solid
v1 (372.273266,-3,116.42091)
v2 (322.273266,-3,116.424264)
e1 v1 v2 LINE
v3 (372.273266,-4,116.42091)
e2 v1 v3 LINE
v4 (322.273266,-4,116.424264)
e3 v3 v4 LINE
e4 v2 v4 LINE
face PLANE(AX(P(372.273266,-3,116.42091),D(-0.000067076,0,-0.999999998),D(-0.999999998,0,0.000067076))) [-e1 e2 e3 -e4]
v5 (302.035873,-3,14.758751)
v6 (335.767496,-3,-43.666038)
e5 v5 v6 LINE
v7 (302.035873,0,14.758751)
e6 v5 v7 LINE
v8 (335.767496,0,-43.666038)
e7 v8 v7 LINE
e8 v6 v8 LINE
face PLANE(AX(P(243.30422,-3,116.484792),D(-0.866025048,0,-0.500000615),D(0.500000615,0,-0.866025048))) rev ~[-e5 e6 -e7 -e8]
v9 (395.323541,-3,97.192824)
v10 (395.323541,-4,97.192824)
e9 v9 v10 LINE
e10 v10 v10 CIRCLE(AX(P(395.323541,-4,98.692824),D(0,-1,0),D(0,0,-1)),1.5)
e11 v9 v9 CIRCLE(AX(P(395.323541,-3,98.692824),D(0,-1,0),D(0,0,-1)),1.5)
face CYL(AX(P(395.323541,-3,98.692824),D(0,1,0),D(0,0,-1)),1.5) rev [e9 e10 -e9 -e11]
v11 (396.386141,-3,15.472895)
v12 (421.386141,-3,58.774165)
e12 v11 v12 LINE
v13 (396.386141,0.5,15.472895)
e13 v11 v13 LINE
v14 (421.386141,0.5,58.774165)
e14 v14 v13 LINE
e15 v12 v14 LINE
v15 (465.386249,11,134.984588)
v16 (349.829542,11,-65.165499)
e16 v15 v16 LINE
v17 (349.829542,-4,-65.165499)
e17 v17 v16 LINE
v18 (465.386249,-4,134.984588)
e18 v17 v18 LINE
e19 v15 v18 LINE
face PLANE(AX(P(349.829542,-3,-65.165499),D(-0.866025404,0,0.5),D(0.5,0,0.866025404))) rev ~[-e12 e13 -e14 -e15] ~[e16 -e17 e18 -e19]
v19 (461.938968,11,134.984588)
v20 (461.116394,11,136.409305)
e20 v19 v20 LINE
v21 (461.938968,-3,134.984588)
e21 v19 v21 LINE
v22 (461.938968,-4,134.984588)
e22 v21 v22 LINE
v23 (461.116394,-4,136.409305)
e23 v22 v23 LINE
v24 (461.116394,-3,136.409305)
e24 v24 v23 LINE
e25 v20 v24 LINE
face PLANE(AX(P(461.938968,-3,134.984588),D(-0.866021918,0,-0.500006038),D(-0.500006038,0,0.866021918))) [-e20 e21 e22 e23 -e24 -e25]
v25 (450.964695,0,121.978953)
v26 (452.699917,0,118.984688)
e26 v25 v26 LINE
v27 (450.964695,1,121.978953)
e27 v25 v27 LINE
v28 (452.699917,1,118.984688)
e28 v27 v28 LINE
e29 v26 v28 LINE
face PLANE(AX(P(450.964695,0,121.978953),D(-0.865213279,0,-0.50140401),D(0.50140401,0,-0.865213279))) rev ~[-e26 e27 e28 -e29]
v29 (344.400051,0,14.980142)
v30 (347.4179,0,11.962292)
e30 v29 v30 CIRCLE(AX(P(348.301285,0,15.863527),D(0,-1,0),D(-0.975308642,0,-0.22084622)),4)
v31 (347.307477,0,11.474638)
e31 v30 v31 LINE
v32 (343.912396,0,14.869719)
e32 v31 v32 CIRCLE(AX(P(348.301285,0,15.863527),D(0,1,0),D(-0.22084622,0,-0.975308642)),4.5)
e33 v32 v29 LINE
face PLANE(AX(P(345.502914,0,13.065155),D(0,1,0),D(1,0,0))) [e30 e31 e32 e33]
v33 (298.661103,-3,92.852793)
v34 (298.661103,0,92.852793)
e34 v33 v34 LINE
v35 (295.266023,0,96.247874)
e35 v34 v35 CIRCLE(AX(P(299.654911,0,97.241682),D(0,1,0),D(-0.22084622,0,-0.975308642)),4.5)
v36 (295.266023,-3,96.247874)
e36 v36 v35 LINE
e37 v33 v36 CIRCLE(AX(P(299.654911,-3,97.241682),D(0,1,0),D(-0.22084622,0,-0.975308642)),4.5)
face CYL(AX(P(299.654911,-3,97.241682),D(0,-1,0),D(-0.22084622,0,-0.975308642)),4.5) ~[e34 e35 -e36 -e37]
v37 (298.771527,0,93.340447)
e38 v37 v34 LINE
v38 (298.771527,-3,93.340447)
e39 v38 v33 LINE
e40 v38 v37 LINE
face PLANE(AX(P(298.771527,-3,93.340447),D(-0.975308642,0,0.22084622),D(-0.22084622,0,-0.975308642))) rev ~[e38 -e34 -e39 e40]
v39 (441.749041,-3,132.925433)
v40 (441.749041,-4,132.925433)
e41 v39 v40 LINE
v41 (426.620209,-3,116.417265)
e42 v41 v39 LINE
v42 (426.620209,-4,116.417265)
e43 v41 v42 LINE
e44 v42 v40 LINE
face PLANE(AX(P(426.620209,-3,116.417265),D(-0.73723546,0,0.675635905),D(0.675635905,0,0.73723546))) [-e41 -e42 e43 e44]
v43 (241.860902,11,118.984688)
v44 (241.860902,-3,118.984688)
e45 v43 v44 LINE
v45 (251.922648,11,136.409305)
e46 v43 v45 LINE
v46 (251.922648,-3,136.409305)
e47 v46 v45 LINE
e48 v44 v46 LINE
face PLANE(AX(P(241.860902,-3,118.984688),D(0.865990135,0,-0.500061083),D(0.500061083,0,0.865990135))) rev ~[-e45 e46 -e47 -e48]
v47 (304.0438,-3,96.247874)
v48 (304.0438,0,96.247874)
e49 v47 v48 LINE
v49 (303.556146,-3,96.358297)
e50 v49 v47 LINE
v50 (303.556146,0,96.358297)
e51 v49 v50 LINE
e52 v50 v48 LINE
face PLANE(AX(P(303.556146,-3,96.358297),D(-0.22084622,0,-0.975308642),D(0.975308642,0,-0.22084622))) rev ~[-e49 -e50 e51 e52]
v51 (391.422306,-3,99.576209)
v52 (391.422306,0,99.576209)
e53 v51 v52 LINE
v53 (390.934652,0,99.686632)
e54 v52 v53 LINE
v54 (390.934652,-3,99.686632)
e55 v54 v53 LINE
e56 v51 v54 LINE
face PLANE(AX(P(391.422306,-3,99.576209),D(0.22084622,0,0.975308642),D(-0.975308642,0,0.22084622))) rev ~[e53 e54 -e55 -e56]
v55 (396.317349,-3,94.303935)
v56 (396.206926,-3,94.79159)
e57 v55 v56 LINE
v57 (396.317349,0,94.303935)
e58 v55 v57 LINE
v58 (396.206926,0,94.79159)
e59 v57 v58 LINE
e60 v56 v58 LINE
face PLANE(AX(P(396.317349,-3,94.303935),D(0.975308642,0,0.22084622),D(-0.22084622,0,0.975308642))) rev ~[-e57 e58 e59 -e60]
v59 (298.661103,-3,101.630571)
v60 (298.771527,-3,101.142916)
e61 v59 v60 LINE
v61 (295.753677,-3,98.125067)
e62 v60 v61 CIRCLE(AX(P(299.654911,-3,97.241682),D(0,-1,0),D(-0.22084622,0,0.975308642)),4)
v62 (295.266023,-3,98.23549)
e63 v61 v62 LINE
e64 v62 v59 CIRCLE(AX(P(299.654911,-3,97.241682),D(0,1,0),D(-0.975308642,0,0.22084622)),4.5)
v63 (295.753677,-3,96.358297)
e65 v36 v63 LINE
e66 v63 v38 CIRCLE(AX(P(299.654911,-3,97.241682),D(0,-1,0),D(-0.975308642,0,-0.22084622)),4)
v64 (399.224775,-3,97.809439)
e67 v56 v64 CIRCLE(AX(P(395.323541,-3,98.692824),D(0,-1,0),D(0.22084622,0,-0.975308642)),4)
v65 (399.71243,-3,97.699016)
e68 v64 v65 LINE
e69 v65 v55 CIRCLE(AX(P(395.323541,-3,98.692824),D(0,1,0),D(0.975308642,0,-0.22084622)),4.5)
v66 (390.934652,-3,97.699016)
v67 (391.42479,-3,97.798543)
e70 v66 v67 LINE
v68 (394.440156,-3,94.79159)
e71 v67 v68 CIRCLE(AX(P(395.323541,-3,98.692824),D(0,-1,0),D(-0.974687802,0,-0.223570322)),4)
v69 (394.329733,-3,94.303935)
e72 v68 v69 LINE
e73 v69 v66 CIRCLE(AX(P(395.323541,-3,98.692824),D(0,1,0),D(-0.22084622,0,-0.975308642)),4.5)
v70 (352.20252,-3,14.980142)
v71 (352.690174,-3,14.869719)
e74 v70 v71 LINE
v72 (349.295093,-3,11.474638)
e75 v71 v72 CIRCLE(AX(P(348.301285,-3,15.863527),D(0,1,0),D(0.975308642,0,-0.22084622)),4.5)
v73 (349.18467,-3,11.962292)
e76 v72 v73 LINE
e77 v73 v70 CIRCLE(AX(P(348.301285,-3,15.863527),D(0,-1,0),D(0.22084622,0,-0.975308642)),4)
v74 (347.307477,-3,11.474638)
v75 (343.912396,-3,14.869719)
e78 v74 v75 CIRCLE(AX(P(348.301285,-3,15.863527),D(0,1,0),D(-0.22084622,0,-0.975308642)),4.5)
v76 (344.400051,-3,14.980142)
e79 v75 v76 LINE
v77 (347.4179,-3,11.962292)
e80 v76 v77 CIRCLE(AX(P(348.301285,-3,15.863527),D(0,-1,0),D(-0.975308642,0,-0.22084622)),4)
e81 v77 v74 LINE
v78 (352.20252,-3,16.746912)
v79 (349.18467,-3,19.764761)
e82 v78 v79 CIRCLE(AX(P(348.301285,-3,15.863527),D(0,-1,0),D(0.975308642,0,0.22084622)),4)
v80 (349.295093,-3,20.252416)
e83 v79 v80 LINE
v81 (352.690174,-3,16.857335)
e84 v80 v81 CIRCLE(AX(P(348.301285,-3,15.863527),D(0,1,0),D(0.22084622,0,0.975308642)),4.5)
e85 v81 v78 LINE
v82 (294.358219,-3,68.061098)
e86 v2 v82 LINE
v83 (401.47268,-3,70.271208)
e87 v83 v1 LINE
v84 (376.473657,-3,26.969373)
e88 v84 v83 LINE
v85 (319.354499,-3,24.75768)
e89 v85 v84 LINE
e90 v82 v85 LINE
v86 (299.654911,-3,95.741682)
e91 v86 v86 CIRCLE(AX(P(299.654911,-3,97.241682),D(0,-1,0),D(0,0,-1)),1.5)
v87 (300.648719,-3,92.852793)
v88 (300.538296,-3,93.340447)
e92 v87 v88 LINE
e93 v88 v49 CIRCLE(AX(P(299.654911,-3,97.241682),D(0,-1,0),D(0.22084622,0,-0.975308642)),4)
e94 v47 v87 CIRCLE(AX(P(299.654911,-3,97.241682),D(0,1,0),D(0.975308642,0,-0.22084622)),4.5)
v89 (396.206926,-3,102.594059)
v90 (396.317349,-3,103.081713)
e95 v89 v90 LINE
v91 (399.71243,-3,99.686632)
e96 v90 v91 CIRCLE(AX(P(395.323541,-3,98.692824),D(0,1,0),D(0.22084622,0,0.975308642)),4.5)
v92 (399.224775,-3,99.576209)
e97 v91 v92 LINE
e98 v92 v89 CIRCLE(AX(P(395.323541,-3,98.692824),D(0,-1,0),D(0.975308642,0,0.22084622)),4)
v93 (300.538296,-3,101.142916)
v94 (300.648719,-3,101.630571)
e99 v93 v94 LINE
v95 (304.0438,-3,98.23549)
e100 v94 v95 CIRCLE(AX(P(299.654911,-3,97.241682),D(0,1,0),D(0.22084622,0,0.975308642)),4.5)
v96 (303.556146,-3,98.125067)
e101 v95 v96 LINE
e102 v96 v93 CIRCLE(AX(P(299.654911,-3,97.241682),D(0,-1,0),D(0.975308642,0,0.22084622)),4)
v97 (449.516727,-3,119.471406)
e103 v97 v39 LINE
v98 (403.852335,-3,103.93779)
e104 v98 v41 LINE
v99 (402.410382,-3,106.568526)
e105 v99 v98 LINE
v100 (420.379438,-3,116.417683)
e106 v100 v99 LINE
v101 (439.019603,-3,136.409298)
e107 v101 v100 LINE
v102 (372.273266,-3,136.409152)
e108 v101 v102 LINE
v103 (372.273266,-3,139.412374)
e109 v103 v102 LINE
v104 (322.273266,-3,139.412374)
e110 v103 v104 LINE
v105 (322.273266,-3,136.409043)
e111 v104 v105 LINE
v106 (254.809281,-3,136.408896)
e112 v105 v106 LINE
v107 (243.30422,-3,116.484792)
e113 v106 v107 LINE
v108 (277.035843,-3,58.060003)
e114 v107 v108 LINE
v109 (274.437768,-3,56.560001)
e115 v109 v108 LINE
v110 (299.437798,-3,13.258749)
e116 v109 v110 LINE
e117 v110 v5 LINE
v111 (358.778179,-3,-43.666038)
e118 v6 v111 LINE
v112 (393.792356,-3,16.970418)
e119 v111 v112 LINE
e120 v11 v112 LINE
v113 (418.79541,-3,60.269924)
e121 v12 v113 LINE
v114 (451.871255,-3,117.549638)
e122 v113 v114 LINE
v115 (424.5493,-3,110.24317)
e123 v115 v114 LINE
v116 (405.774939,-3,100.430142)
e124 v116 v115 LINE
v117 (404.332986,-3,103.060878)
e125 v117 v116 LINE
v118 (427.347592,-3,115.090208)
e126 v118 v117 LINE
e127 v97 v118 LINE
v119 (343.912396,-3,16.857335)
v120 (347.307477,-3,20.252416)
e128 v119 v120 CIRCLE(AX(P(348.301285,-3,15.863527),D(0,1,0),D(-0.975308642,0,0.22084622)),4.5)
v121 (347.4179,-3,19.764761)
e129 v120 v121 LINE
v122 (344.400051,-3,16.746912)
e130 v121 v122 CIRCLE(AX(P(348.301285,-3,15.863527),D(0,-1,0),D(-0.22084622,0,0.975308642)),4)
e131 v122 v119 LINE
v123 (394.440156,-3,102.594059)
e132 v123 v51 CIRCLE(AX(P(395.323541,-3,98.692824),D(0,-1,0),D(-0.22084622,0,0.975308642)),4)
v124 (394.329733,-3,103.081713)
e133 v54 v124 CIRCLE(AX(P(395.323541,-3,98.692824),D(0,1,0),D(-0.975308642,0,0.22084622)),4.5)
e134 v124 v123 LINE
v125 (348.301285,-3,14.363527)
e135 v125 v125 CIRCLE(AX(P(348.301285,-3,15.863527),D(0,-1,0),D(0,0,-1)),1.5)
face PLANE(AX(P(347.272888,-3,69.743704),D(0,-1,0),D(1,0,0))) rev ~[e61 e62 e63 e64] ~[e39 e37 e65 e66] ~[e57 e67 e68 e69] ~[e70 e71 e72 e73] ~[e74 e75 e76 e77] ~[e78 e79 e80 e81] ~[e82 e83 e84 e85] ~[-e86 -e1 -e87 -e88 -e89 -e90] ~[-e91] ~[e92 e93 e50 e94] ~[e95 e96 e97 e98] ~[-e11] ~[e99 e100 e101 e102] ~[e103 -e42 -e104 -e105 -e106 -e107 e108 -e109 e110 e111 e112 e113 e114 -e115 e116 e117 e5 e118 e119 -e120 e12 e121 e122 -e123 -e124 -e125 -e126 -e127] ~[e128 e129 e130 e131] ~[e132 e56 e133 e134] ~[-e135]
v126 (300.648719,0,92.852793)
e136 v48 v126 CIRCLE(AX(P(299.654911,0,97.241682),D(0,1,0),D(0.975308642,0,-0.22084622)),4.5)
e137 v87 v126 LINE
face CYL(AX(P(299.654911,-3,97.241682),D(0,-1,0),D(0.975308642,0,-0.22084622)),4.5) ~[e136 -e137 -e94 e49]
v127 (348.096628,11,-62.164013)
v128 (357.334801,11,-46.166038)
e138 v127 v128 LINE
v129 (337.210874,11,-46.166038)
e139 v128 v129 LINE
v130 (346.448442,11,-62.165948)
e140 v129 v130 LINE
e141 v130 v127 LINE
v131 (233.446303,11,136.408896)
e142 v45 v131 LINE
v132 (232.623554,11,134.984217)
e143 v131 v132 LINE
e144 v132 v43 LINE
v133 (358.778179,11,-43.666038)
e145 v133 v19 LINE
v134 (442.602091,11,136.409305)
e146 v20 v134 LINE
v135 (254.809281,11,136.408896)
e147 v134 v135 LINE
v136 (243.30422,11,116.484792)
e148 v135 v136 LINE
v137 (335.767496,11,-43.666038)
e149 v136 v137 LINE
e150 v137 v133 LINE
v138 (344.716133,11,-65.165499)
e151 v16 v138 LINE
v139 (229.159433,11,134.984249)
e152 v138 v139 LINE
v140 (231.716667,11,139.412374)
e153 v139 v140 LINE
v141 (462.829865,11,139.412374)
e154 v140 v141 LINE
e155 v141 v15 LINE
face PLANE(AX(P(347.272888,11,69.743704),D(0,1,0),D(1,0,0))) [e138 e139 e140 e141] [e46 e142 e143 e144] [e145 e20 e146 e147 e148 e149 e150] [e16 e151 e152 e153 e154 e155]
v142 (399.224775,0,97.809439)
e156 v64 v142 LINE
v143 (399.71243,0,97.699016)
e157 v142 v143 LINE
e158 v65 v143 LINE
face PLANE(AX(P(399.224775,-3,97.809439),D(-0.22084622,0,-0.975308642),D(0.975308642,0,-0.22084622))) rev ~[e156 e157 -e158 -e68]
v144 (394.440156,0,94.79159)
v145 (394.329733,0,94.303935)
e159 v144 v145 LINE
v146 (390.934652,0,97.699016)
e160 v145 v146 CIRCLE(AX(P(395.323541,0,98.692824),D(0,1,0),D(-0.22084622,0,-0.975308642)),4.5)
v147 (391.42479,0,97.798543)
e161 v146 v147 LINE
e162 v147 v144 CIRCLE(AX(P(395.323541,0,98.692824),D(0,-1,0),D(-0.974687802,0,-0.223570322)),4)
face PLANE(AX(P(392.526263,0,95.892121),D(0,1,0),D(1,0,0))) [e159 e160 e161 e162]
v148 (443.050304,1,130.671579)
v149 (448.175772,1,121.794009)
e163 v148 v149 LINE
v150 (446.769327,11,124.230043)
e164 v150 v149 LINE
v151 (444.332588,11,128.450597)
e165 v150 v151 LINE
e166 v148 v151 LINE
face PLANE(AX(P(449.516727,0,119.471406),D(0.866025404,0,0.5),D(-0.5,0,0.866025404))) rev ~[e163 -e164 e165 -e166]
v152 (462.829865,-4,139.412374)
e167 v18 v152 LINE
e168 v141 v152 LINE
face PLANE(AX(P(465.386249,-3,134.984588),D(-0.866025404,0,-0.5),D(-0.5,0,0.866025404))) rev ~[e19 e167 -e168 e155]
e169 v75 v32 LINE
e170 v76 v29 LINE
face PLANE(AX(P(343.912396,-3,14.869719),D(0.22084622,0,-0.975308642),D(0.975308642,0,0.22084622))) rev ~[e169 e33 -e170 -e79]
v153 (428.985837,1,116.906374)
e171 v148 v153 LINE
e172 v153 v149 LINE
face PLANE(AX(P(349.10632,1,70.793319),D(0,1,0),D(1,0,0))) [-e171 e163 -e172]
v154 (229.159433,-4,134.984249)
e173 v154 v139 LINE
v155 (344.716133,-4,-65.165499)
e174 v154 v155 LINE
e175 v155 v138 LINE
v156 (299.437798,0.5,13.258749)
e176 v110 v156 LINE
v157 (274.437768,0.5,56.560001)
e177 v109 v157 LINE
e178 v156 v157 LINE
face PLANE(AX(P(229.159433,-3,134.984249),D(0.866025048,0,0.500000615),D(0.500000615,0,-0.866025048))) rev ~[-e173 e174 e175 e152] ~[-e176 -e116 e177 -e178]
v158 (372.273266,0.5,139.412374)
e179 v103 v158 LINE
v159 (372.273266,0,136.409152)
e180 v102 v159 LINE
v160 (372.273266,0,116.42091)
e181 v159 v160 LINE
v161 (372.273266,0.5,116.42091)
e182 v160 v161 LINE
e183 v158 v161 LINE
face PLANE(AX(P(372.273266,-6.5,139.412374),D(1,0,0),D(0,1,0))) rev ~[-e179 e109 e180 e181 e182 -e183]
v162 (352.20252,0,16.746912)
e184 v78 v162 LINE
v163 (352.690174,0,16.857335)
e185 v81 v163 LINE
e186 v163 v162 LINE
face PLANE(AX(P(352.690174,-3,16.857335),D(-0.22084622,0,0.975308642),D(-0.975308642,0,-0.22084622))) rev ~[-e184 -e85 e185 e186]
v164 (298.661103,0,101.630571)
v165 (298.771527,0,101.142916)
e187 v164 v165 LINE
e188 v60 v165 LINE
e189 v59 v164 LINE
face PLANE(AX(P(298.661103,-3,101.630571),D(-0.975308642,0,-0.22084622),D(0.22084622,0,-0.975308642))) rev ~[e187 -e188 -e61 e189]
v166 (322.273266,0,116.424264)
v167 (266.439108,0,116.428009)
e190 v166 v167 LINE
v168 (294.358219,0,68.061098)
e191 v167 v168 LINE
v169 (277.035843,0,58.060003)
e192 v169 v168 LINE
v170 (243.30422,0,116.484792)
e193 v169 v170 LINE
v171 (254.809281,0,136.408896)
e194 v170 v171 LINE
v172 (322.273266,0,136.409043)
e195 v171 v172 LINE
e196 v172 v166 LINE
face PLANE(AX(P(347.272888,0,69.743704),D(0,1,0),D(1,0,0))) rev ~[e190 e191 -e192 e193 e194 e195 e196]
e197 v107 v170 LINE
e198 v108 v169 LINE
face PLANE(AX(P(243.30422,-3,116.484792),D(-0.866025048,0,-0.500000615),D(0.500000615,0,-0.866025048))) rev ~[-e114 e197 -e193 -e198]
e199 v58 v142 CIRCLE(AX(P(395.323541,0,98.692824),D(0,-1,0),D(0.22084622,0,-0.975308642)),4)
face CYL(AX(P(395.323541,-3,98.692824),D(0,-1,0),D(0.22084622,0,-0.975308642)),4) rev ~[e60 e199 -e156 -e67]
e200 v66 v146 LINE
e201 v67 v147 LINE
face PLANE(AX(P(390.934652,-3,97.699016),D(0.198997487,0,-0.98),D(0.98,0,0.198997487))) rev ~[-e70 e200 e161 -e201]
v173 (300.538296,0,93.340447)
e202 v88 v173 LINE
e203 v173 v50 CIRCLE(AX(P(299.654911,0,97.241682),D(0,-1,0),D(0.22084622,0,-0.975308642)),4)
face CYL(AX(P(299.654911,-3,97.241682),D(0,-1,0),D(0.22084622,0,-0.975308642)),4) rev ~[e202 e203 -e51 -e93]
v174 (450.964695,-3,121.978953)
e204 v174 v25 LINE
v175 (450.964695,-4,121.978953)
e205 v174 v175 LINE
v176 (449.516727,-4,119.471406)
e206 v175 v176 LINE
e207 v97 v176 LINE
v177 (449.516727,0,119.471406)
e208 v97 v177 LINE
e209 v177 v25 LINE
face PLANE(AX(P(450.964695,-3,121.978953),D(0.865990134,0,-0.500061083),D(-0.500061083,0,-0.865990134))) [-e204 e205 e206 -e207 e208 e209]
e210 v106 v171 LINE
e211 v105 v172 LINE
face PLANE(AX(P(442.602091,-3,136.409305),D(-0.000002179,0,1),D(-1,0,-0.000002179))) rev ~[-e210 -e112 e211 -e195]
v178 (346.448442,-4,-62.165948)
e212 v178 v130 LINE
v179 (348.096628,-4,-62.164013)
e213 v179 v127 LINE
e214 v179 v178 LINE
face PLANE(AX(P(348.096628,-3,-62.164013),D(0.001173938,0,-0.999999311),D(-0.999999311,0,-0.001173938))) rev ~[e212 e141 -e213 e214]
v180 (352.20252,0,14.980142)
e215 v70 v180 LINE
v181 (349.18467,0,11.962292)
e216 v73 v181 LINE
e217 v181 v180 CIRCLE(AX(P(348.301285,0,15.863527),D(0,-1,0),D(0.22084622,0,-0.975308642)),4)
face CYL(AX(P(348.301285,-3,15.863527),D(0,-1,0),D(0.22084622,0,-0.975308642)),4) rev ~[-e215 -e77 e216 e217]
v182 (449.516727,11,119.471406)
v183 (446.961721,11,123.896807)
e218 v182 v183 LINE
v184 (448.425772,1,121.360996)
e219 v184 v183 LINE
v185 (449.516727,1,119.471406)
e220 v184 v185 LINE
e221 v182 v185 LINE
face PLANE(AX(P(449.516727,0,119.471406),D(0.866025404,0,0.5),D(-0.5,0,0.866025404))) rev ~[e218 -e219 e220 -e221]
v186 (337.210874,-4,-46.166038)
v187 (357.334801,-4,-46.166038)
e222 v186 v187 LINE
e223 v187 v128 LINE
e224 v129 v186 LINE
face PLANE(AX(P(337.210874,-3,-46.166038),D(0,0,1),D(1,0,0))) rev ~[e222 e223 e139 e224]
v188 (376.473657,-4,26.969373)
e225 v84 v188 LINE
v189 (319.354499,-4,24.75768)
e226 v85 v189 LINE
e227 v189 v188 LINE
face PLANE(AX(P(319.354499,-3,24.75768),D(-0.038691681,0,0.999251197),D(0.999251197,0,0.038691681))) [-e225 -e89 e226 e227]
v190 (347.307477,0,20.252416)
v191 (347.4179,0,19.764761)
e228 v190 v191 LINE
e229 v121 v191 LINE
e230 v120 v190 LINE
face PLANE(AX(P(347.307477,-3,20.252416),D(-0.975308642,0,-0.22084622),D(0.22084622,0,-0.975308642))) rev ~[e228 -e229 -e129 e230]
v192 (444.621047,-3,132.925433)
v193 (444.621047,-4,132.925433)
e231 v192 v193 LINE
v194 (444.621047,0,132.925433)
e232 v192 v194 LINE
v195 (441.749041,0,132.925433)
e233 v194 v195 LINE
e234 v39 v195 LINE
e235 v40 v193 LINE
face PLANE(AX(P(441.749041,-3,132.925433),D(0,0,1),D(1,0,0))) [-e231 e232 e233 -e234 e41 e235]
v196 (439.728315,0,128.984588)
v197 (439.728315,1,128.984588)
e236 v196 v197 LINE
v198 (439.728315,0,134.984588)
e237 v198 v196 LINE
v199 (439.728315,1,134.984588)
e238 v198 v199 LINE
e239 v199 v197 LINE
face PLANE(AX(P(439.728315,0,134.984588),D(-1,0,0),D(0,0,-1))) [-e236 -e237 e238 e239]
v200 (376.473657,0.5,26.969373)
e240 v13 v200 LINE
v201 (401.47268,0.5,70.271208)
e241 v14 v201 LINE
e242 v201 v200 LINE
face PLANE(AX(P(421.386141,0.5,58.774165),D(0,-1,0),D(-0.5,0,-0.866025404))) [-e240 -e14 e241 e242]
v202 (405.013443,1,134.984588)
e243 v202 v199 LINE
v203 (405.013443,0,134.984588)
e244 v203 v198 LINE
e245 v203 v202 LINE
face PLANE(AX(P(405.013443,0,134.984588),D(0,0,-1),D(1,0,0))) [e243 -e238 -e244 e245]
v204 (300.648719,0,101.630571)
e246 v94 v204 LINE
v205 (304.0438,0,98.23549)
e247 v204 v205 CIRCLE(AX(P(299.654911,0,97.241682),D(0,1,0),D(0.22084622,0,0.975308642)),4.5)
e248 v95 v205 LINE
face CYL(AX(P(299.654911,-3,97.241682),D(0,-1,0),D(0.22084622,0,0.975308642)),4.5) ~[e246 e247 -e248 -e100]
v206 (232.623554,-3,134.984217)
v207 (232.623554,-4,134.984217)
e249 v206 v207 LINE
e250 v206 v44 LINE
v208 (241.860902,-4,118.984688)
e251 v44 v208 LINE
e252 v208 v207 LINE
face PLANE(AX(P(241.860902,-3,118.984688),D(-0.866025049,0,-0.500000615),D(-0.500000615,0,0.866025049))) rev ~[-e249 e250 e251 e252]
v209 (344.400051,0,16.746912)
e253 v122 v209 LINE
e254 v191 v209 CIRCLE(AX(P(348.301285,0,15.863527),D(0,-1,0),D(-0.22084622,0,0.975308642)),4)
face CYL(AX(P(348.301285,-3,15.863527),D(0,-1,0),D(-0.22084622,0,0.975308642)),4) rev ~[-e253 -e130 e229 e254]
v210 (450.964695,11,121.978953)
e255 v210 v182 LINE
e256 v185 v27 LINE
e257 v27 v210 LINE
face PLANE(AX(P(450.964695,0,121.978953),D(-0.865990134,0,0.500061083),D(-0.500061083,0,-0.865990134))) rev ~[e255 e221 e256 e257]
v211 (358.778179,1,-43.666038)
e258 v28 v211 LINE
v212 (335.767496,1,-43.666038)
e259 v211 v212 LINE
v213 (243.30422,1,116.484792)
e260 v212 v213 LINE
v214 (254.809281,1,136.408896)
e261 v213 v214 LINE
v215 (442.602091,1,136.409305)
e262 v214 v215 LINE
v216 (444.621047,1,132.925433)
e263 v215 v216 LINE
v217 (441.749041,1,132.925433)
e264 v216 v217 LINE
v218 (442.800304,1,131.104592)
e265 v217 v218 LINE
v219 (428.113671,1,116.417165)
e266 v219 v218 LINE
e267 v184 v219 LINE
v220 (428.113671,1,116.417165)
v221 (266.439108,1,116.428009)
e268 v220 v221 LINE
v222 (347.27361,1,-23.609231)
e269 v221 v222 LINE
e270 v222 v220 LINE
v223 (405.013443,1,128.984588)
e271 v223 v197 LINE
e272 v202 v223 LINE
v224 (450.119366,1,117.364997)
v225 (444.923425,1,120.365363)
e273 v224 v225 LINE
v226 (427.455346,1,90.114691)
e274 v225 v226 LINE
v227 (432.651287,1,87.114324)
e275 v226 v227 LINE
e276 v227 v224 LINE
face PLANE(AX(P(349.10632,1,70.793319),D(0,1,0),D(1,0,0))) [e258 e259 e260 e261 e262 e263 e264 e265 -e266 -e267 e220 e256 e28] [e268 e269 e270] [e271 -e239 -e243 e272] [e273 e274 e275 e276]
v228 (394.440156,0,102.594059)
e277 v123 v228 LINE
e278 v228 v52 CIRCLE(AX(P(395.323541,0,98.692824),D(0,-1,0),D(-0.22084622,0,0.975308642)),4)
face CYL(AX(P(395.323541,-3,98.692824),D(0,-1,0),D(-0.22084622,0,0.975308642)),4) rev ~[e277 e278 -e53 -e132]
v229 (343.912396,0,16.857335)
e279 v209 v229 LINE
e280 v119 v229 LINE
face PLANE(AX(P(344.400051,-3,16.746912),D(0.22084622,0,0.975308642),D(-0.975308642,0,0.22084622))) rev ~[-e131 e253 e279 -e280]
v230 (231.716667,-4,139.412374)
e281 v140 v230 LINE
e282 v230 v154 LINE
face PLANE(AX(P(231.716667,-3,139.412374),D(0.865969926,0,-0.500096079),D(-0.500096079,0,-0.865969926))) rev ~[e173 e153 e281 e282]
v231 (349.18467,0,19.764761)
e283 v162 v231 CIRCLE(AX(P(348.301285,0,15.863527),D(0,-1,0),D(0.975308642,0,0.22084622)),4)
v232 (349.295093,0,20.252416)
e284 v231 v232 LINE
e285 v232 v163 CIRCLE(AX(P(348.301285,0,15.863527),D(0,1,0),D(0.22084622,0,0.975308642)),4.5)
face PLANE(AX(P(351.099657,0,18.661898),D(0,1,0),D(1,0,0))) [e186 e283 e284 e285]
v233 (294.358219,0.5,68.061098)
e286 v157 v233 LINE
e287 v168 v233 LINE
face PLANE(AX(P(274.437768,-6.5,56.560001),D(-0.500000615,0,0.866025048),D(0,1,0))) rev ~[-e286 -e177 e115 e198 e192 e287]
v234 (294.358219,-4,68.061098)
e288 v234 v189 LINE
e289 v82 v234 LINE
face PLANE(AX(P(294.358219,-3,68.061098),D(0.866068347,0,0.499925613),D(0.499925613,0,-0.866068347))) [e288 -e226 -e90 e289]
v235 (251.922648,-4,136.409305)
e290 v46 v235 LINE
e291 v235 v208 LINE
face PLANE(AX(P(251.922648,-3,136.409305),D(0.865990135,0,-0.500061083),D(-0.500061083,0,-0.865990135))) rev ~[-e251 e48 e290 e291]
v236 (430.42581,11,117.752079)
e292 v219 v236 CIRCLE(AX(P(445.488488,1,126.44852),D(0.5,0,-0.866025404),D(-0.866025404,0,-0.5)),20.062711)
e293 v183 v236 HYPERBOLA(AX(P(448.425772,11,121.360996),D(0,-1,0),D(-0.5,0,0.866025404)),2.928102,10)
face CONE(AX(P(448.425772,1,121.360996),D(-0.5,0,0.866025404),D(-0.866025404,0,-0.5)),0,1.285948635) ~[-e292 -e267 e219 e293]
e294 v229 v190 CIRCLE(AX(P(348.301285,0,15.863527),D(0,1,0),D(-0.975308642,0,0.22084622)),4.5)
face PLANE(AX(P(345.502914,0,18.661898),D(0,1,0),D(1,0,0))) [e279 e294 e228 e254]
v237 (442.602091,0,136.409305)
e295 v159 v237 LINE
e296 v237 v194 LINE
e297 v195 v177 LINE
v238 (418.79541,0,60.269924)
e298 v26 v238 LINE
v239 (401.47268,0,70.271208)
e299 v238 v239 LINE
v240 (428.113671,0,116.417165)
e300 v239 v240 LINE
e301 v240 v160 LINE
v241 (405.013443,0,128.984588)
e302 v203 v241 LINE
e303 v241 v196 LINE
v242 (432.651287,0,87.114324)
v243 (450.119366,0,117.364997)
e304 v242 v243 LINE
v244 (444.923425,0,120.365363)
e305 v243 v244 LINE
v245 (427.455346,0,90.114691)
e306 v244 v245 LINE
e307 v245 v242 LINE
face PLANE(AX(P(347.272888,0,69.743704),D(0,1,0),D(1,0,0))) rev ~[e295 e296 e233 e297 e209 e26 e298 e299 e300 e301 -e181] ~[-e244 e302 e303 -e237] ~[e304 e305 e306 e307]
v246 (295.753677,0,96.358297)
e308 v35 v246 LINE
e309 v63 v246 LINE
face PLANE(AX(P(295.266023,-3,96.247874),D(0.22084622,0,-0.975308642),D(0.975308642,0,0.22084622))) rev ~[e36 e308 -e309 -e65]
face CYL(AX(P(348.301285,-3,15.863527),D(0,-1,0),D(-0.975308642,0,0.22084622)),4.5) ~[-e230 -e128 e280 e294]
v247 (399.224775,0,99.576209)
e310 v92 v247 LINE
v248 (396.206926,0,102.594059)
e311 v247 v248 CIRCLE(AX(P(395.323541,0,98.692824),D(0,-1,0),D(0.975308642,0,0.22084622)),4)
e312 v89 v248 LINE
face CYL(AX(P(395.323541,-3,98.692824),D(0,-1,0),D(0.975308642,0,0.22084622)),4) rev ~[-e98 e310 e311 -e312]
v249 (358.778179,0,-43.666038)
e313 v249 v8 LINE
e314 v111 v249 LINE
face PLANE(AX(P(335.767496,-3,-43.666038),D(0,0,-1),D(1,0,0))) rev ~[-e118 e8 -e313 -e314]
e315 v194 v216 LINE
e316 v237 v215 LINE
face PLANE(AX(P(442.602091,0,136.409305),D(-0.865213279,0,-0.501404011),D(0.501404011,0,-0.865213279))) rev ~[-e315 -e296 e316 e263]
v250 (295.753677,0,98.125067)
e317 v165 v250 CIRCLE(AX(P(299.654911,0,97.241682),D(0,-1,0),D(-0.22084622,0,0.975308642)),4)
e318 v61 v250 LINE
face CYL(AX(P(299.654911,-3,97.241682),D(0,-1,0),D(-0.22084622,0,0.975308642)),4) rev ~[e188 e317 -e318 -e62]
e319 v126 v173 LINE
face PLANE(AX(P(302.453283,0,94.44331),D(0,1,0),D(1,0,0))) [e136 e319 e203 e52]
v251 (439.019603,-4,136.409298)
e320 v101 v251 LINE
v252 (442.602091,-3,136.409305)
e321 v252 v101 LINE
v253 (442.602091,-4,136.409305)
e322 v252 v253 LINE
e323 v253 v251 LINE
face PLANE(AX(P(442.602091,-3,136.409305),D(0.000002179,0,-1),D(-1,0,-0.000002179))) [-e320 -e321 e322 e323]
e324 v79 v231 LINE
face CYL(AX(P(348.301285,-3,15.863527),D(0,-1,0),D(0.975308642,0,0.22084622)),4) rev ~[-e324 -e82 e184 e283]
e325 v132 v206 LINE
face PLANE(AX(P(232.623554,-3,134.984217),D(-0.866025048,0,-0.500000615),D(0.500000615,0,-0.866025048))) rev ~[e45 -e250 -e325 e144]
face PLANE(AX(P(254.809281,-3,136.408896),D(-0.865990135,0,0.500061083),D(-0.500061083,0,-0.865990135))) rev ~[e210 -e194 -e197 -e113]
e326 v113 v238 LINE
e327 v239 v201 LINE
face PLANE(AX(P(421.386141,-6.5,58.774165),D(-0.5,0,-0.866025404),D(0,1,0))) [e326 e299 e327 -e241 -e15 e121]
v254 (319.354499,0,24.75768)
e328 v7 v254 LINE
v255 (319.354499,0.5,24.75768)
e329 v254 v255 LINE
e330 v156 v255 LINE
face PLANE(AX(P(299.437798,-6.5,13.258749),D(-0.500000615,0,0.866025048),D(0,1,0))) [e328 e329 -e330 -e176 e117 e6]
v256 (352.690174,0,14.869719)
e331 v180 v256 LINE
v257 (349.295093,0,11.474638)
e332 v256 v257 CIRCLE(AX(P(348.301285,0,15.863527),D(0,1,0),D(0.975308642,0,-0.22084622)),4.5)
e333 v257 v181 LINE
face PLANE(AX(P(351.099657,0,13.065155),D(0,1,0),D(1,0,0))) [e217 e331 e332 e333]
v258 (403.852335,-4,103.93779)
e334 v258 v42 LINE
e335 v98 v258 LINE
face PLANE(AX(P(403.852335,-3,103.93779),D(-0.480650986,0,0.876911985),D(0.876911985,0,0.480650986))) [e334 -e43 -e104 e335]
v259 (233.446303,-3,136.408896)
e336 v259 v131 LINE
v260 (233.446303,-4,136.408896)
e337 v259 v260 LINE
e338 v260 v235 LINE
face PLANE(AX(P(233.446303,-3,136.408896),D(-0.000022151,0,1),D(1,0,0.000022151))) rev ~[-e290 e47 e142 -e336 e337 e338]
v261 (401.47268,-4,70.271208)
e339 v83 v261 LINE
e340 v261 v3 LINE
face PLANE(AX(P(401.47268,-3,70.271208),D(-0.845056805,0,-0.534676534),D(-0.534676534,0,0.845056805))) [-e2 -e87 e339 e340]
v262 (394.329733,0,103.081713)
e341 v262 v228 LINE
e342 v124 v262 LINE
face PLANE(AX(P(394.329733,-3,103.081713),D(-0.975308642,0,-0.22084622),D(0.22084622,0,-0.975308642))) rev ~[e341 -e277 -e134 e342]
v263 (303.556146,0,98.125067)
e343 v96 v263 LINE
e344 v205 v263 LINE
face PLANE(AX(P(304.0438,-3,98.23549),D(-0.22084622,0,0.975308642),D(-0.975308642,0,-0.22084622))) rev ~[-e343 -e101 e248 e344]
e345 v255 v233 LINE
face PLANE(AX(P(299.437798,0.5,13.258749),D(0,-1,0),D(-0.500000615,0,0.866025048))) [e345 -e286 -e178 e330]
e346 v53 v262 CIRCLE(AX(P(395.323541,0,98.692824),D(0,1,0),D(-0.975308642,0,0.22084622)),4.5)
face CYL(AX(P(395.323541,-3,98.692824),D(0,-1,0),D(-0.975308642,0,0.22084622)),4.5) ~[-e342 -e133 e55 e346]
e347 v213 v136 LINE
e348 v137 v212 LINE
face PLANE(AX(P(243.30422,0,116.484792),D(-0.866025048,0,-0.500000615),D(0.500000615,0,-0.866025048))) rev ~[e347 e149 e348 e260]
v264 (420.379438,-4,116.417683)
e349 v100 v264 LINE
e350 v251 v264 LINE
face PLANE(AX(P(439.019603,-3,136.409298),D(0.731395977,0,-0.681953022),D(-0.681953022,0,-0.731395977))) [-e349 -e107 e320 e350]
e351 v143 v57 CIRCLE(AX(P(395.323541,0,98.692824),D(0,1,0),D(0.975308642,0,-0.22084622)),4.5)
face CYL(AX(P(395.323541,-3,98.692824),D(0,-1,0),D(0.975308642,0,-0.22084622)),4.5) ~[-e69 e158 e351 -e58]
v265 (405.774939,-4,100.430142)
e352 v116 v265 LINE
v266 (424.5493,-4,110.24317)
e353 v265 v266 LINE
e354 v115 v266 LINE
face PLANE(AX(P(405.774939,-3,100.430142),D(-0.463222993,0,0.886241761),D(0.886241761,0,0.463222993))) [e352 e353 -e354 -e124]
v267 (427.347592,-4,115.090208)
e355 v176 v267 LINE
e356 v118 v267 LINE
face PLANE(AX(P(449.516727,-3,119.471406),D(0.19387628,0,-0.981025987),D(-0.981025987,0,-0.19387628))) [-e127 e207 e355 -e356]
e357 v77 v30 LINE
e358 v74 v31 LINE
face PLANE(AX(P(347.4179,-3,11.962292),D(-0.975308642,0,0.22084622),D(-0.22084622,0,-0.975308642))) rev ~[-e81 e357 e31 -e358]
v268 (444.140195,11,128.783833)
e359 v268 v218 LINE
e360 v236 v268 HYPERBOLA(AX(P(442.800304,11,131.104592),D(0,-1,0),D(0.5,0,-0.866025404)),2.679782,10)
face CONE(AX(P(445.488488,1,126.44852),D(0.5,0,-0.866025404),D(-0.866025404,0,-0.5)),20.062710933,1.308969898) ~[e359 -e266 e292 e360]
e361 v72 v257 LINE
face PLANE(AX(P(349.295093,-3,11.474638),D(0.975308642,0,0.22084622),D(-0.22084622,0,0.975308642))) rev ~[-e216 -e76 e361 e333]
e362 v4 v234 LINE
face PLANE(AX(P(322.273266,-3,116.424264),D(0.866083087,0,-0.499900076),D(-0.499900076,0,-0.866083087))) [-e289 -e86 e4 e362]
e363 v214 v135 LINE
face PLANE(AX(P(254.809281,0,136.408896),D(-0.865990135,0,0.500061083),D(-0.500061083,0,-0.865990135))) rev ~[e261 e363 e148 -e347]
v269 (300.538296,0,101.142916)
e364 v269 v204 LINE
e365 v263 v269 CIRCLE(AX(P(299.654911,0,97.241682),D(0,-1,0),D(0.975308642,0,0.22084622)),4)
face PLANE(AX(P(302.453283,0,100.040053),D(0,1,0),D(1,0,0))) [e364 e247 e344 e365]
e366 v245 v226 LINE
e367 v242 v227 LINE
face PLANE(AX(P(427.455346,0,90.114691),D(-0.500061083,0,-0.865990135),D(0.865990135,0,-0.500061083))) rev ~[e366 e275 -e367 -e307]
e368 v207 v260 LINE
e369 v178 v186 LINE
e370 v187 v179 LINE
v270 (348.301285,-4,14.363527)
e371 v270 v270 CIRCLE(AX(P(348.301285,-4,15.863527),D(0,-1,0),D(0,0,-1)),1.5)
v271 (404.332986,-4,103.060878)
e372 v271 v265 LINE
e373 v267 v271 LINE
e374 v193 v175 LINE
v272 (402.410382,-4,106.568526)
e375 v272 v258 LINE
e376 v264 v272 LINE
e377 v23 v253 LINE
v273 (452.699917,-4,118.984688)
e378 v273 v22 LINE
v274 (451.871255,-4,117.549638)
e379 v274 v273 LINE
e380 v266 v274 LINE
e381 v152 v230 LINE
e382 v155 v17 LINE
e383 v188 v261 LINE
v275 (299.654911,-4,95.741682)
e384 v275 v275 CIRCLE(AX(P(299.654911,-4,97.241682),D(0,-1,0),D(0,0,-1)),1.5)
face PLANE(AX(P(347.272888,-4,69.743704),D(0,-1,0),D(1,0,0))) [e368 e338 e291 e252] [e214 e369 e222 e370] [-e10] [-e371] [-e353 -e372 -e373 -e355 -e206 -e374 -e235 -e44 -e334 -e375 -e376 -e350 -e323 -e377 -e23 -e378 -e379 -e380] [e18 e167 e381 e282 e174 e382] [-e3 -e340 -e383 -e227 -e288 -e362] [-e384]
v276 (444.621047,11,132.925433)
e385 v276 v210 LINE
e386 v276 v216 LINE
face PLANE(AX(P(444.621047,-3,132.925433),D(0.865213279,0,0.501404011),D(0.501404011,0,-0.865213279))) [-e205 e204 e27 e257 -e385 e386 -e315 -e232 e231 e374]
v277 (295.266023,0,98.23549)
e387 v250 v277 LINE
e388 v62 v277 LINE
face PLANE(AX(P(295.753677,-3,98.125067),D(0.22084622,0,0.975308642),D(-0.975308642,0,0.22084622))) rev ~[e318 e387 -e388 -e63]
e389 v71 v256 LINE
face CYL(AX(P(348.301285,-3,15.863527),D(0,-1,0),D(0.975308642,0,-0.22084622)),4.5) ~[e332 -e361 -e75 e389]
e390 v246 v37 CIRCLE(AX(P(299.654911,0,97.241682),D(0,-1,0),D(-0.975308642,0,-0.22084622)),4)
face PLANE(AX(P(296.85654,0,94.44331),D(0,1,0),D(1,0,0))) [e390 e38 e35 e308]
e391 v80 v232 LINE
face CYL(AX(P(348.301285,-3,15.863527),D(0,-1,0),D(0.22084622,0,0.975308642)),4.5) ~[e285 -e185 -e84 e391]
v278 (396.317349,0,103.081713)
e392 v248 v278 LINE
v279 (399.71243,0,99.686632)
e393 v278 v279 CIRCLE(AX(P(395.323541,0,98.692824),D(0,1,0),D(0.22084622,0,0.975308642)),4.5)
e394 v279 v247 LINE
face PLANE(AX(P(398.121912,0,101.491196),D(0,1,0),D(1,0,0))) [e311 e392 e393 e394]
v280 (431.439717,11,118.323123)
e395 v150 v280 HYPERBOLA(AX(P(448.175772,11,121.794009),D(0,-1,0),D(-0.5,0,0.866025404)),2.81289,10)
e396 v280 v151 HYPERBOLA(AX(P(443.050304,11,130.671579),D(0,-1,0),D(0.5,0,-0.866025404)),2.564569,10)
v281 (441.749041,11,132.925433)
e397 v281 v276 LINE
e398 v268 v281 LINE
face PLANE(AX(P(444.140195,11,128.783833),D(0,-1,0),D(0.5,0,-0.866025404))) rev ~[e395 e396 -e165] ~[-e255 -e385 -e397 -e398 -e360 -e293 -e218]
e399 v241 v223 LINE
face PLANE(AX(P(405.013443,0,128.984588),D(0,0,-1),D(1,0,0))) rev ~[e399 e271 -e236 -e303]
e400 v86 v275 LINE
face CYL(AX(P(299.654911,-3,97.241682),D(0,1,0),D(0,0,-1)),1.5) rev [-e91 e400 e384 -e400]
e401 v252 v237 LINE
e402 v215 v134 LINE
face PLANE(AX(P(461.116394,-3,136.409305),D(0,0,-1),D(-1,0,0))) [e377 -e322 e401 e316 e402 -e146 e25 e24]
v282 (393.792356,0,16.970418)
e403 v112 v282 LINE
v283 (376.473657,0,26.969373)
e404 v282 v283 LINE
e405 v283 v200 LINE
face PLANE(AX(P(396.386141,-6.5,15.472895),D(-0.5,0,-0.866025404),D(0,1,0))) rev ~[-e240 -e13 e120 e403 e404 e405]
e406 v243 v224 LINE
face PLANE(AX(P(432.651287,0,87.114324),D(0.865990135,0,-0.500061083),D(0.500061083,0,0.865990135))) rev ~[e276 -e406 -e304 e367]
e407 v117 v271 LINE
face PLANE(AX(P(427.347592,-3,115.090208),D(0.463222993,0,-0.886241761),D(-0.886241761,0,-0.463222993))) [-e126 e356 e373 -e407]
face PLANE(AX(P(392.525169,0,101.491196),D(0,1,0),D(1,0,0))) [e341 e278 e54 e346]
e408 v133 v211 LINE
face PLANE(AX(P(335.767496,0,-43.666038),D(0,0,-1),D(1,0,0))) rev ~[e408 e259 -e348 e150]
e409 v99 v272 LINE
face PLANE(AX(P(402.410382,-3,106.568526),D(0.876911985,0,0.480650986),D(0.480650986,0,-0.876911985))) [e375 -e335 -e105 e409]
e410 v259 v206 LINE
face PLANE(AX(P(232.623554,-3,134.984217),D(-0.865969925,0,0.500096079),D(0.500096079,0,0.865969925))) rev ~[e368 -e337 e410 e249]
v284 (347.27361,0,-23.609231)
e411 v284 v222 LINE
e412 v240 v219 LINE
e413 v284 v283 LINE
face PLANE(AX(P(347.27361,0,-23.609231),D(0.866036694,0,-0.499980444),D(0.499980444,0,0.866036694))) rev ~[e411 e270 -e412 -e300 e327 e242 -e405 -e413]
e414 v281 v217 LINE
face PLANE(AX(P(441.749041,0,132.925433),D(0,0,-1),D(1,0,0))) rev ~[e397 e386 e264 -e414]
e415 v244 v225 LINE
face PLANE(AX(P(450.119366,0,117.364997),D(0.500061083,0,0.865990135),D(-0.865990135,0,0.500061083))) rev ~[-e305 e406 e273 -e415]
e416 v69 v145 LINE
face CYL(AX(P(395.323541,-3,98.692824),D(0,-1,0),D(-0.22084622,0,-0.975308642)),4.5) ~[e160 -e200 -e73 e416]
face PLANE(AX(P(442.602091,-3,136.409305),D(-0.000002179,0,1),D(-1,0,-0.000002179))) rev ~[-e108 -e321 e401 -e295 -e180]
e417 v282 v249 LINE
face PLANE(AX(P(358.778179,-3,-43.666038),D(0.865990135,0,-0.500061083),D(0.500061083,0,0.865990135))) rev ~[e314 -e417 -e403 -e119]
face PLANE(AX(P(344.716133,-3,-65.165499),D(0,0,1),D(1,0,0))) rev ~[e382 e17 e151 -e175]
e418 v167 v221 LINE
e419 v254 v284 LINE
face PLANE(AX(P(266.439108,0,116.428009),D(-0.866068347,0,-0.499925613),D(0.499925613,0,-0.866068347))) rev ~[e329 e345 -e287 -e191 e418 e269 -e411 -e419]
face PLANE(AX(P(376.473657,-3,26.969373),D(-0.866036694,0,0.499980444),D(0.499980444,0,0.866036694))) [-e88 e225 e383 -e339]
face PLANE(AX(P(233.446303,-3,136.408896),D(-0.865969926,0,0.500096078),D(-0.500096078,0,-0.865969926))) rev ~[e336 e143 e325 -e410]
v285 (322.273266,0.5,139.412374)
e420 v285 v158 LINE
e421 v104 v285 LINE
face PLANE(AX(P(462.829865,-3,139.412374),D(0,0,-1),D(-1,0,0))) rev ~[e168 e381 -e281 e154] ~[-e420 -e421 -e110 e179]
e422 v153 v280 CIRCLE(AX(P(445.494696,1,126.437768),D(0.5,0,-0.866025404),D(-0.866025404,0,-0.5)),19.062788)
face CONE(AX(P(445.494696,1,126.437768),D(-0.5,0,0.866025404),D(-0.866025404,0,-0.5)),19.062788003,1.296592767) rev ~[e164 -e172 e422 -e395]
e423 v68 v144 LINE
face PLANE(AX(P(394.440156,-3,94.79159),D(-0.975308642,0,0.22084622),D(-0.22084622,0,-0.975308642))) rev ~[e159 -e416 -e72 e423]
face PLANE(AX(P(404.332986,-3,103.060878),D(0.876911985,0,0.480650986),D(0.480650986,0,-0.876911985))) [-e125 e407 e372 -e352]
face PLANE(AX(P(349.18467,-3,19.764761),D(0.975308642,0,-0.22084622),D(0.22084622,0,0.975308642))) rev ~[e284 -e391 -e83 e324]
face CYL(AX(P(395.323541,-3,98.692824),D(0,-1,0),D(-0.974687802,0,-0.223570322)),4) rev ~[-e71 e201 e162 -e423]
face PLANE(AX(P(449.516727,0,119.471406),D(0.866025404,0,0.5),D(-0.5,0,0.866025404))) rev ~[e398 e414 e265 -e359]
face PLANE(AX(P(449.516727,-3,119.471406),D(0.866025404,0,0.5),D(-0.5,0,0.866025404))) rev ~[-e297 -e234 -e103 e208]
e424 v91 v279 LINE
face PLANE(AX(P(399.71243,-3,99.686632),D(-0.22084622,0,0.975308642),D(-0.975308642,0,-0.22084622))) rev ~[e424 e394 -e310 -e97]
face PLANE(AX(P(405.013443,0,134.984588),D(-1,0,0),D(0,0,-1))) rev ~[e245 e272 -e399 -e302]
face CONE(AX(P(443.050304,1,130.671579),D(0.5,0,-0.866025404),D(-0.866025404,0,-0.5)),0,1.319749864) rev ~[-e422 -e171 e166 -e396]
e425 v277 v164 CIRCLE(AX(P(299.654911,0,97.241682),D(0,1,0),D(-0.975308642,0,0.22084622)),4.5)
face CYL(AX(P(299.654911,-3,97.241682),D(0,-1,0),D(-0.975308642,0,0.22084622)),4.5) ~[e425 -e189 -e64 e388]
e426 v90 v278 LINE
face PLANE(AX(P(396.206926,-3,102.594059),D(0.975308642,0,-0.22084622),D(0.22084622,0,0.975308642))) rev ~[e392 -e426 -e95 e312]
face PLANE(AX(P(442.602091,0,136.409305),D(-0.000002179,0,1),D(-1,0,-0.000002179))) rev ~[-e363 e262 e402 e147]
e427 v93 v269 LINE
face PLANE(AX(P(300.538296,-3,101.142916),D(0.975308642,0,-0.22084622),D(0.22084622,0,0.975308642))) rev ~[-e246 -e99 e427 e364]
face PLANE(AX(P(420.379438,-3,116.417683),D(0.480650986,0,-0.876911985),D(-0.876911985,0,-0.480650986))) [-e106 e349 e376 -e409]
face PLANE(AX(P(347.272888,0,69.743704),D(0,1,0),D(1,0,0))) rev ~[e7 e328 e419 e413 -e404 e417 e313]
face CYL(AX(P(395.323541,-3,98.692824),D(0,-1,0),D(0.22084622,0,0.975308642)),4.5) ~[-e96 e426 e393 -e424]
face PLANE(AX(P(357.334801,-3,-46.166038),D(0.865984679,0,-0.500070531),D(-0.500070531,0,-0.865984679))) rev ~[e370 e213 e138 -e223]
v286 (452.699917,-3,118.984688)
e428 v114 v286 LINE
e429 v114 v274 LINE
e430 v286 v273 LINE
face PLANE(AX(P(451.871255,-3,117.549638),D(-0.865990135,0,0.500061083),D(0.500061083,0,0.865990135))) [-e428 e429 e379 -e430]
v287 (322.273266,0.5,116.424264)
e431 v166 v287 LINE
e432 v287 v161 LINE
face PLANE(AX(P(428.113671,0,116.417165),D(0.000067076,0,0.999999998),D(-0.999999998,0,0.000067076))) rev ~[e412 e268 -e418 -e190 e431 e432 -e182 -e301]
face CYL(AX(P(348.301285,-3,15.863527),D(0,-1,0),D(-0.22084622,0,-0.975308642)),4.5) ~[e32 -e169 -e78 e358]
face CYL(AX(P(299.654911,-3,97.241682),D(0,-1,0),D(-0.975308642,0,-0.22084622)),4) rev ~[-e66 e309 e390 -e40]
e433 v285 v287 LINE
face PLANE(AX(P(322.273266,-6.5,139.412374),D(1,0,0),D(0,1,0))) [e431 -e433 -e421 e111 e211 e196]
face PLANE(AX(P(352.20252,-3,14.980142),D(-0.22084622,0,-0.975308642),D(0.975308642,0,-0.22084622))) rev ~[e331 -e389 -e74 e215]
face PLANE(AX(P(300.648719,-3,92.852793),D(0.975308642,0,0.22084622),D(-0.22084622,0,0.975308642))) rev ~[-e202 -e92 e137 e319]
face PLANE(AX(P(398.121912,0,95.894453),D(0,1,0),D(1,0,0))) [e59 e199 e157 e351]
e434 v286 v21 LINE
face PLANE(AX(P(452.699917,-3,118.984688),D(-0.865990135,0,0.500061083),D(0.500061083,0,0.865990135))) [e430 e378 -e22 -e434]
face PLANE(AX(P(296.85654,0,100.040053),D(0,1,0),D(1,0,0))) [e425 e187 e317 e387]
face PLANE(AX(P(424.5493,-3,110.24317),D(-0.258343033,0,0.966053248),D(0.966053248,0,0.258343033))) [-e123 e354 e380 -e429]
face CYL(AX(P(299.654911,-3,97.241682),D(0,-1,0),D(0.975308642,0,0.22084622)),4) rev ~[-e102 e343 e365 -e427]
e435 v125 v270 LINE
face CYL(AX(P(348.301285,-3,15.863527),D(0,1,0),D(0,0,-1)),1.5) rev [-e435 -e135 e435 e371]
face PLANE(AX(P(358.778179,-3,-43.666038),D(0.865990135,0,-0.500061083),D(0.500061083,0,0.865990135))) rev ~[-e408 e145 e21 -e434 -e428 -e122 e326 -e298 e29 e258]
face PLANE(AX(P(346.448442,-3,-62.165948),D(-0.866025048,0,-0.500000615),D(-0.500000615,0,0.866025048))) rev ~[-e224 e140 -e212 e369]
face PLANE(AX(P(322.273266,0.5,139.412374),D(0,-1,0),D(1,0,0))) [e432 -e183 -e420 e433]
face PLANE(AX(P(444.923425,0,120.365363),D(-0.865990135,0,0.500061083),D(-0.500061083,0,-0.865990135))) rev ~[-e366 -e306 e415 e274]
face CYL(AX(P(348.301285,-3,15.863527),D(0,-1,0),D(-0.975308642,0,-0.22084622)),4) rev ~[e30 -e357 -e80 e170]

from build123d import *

# Parameters (mm, degrees)
SKETCH1_W                = 34.714871786
SKETCH1_H                = 6
BOSS_EXTRUDE1_DEPTH      = 1
BOSS_EXTRUDE2_DEPTH      = 11
BOSS_EXTRUDE3_DEPTH      = 5
BOSS_EXTRUDE3_DEPTH_BACK = 3
SKETCH3_W                = 50
SKETCH3_H                = 7
CUT_EXTRUDE3_DEPTH       = 25
SKETCH5_W                = 50
SKETCH5_H                = 7
CUT_EXTRUDE4_DEPTH       = 25
SKETCH6_W                = 50
SKETCH6_H                = 7
CUT_EXTRUDE5_DEPTH       = 25
SKETCH8_R                = 1.500000001
SKETCH8_R_2              = 1.499999999
BOSS_EXTRUDE5_DEPTH      = 1
BOSS_EXTRUDE10_DEPTH     = 3
REVOLVE1_ANGLE           = 90
SKETCH15_W               = 7.87412369
SKETCH15_H               = 12.308031651
CUT_EXTRUDE7_DEPTH       = 38


with BuildPart() as part:
    # Sketch1 → Boss-Extrude1 (new body)
    with BuildSketch(Plane(origin=(0, 0, 0), x_dir=(1, 0, 0), z_dir=(0, 1, 0))):
        Polygon((243.304219779, -116.484791863), (254.809280582, -136.408896135), (442.60209075, -136.409305398), (444.621046679, -132.925433226), (441.749040748, -132.925433226), (449.516726724, -119.47140646), (450.964695301, -121.978953126), (452.699916625, -118.984688022), (358.778179038, 43.666038061), (335.767496282, 43.666038061), align=None)
        with Locations((422.370878913, -131.984588005)):
            Rectangle(SKETCH1_W, SKETCH1_H, mode=Mode.SUBTRACT)
        Polygon((450.119365975, -117.364996826), (444.923425166, -120.365363323), (427.455346217, -90.114690822), (432.651287025, -87.114324326), align=None, mode=Mode.SUBTRACT)
        Polygon((428.11367092, -116.417164682), (266.43910827, -116.428009228), (347.273609731, 23.609230811), align=None, mode=Mode.SUBTRACT)
    extrude(amount=BOSS_EXTRUDE1_DEPTH)

    # Sketch1<9> → Boss-Extrude2 (add)
    # profile 1 of 2: a face of its own
    with BuildSketch(Plane(origin=(0, 0, 0), x_dir=(1, 0, 0), z_dir=(0, 1, 0))):
        Polygon((229.15943255, -134.984249185), (231.716666588, -139.412373829), (462.829865412, -139.412373829), (465.38624875, -134.984588004), (349.829542096, 65.165499075), (344.716133219, 65.165499075), align=None)
        Polygon((251.922647994, -136.409305396), (233.446303405, -136.408896135), (232.623553965, -134.984217354), (241.860901694, -118.984688016), align=None, mode=Mode.SUBTRACT)
        Polygon((442.60209075, -136.409305398), (254.809280582, -136.408896135), (243.304219779, -116.484791863), (335.767496282, 43.666038061), (358.778179038, 43.666038061), (461.938967961, -134.98458801), (461.116393749, -136.409305398), align=None, mode=Mode.SUBTRACT)
        Polygon((348.096628302, 62.164013367), (357.334800991, 46.166038067), (337.210874326, 46.166038067), (346.44844193, 62.165948237), align=None, mode=Mode.SUBTRACT)
    # profile 2 of 2: a face of its own
    with BuildSketch(Plane(origin=(0, 0, 0), x_dir=(1, 0, 0), z_dir=(0, 1, 0))):
        Polygon((441.749040748, -132.925433226), (444.621046679, -132.925433226), (450.964695301, -121.978953126), (449.516726724, -119.47140646), align=None)
    extrude(amount=BOSS_EXTRUDE2_DEPTH)

    # Sketch1<10> → Boss-Extrude3 (add, two sides: drawn at the far end of the back side and taken through both)
    # profile 1 of 2: a face of its own
    with BuildSketch(Plane(origin=(0, 0, 0), x_dir=(1, 0, 0), z_dir=(0, 1, 0)).offset(-BOSS_EXTRUDE3_DEPTH_BACK)):
        Polygon((229.15943255, -134.984249185), (231.716666588, -139.412373829), (462.829865412, -139.412373829), (465.38624875, -134.984588004), (349.829542096, 65.165499075), (344.716133219, 65.165499075), align=None)
        Polygon((251.922647994, -136.409305396), (233.446303405, -136.408896135), (232.623553965, -134.984217354), (241.860901694, -118.984688016), align=None, mode=Mode.SUBTRACT)
        Polygon((442.60209075, -136.409305398), (254.809280582, -136.408896135), (243.304219779, -116.484791863), (335.767496282, 43.666038061), (358.778179038, 43.666038061), (461.938967961, -134.98458801), (461.116393749, -136.409305398), align=None, mode=Mode.SUBTRACT)
        Polygon((348.096628302, 62.164013367), (357.334800991, 46.166038067), (337.210874326, 46.166038067), (346.44844193, 62.165948237), align=None, mode=Mode.SUBTRACT)
    # profile 2 of 2: a face of its own
    with BuildSketch(Plane(origin=(0, 0, 0), x_dir=(1, 0, 0), z_dir=(0, 1, 0)).offset(-BOSS_EXTRUDE3_DEPTH_BACK)):
        Polygon((441.749040748, -132.925433226), (444.621046679, -132.925433226), (450.964695301, -121.978953126), (449.516726724, -119.47140646), align=None)
    extrude(amount=BOSS_EXTRUDE3_DEPTH + BOSS_EXTRUDE3_DEPTH_BACK)

    # Sketch3 → Cut-Extrude3 (cut)
    with BuildSketch(Plane(origin=(290.589645397, 0, -167.772009994), x_dir=(-0.49999999999998745, 0, -0.8660254037844459), z_dir=(0.8660254037844459, 0, -0.49999999999998745))):
        with Locations((-236.592990632, -3)):
            Rectangle(SKETCH3_W, SKETCH3_H)
    extrude(amount=-CUT_EXTRUDE3_DEPTH, mode=Mode.SUBTRACT)

    # Sketch5 → Cut-Extrude4 (cut)
    with BuildSketch(Plane.XY.offset(139.412373829)):
        with Locations((347.273266, -3)):
            Rectangle(SKETCH5_W, SKETCH5_H)
    extrude(amount=-CUT_EXTRUDE4_DEPTH, mode=Mode.SUBTRACT)

    # Sketch6 → Cut-Extrude5 (cut)
    with BuildSketch(Plane(origin=(230.319375802, 0, 132.975171836), x_dir=(-0.5000006153901599, 0, 0.8660250484884727), z_dir=(-0.8660250484884727, 0, -0.5000006153901599))):
        with Locations((-113.236674797, -3)):
            Rectangle(SKETCH6_W, SKETCH6_H)
    extrude(amount=-CUT_EXTRUDE5_DEPTH, mode=Mode.SUBTRACT)

    # Sketch8 → Boss-Extrude5 (add)
    with BuildSketch(Plane.XZ.offset(3)):
        Polygon((349.829542096, -65.165499075), (465.38624875, 134.984588004), (462.829865412, 139.412373829), (231.716666588, 139.412373829), (229.15943255, 134.984249185), (344.716133219, -65.165499075), align=None)
        with Locations((395.323540807, 98.692824233)):
            Circle(SKETCH8_R, mode=Mode.SUBTRACT)
        with Locations((348.301285092, 15.86352663)):
            Circle(SKETCH8_R_2, mode=Mode.SUBTRACT)
        with Locations((299.654911442, 97.241681778)):
            Circle(SKETCH8_R, mode=Mode.SUBTRACT)
        Polygon((444.621046678, 132.925433226), (450.9646953, 121.978953126), (449.516726723, 119.47140646), (427.347592194, 115.090208206), (404.332986149, 103.060878104), (405.774939108, 100.430142149), (424.549299543, 110.243170392), (451.871255231, 117.549638152), (452.699916625, 118.984688022), (461.93896796, 134.98458801), (461.116393748, 136.409305398), (442.602090749, 136.409305398), (439.019602541, 136.409297591), (420.379437569, 116.417683466), (402.410382204, 106.568526043), (403.852335163, 103.937790089), (426.620208945, 116.417264858), (441.749040748, 132.925433226), align=None, mode=Mode.SUBTRACT)
        Polygon((322.273266, 116.424264074), (294.35821863, 68.061097963), (319.354499369, 24.757680454), (376.473657314, 26.969372807), (401.472679509, 70.271207532), (372.273266, 116.420910254), align=None, mode=Mode.SUBTRACT)
        Polygon((233.446303405, 136.408896135), (251.922647993, 136.409305396), (241.860901693, 118.984688015), (232.623553964, 134.984217354), align=None, mode=Mode.SUBTRACT)
        Polygon((337.210874326, -46.166038067), (357.334800991, -46.166038067), (348.096628302, -62.164013367), (346.44844193, -62.165948237), align=None, mode=Mode.SUBTRACT)
    extrude(amount=BOSS_EXTRUDE5_DEPTH)

    # Sketch12 → Boss-Extrude10 (add)
    with BuildSketch(Plane(origin=(0, -3, 0), x_dir=(1, 0, 0), z_dir=(0, 1, 0))):
        with BuildLine():
            ThreePointArc((352.690173981, -14.86971864), (351.483265607, -12.681546115), (349.295093082, -11.474637741))
            Line((349.295093082, -11.474637742), (349.184669972, -11.962292063))
            ThreePointArc((349.184669972, -11.962292062), (351.129712217, -13.035099505), (352.20251966, -14.98014175))
            Line((352.20251966, -14.98014175), (352.690173981, -14.86971864))
        make_face()
        with BuildLine():
            Line((347.417900212, -11.962292063), (347.307477102, -11.474637742))
            ThreePointArc((347.307477102, -11.474637741), (345.119304576, -12.681546115), (343.912396203, -14.86971864))
            Line((343.912396203, -14.86971864), (344.400050524, -14.98014175))
            ThreePointArc((344.400050524, -14.98014175), (345.472857967, -13.035099505), (347.417900212, -11.962292062))
        make_face()
        with BuildLine():
            ThreePointArc((349.295093082, -20.25241552), (351.483265607, -19.045507146), (352.690173981, -16.85733462))
            Line((352.690173981, -16.85733462), (352.20251966, -16.74691151))
            ThreePointArc((352.20251966, -16.74691151), (351.129712217, -18.691953755), (349.184669972, -19.764761199))
            Line((349.184669972, -19.764761198), (349.295093082, -20.252415519))
        make_face()
        with BuildLine():
            Line((344.400050524, -16.74691151), (343.912396203, -16.85733462))
            ThreePointArc((343.912396203, -16.85733462), (345.119304576, -19.045507146), (347.307477102, -20.25241552))
            Line((347.307477102, -20.252415519), (347.417900212, -19.764761198))
            ThreePointArc((347.417900212, -19.764761199), (345.472857967, -18.691953755), (344.400050524, -16.74691151))
        make_face()
        with BuildLine():
            Line((394.440155927, -94.791589665), (394.329732817, -94.303935344))
            ThreePointArc((394.329732817, -94.303935343), (392.141560291, -95.510843717), (390.934651917, -97.699016243))
            Line((390.934651918, -97.699016243), (391.424789599, -97.798542944))
            ThreePointArc((391.424789599, -97.798542944), (392.499067688, -95.860448621), (394.440155927, -94.791589664))
        make_face()
        with BuildLine():
            ThreePointArc((399.712429696, -97.699016243), (398.505521322, -95.510843717), (396.317348797, -94.303935343))
            Line((396.317348797, -94.303935344), (396.206925687, -94.791589665))
            ThreePointArc((396.206925687, -94.791589664), (398.151967932, -95.864397108), (399.224775375, -97.809439353))
            Line((399.224775375, -97.809439353), (399.712429695, -97.699016243))
        make_face()
        with BuildLine():
            Line((391.422306239, -99.576209113), (390.934651918, -99.686632223))
            ThreePointArc((390.934651917, -99.686632223), (392.141560291, -101.874804748), (394.329732817, -103.081713122))
            Line((394.329732817, -103.081713121), (394.440155927, -102.5940588))
            ThreePointArc((394.440155927, -102.594058801), (392.495113682, -101.521251358), (391.422306238, -99.576209113))
        make_face()
        with BuildLine():
            ThreePointArc((396.317348797, -103.081713122), (398.505521322, -101.874804748), (399.712429696, -99.686632223))
            Line((399.712429695, -99.686632223), (399.224775375, -99.576209113))
            ThreePointArc((399.224775375, -99.576209113), (398.151967932, -101.521251358), (396.206925687, -102.594058801))
            Line((396.206925687, -102.5940588), (396.317348797, -103.081713121))
        make_face()
        with BuildLine():
            ThreePointArc((298.661103452, -92.85279289), (296.472930928, -94.059701263), (295.266022554, -96.247873788))
            Line((295.266022553, -96.247873788), (295.753676874, -96.358296898))
            ThreePointArc((295.753676875, -96.358296898), (296.826484318, -94.413254654), (298.771526562, -93.340447211))
            Line((298.771526562, -93.34044721), (298.661103452, -92.852792889))
        make_face()
        with BuildLine():
            Line((295.753676874, -98.125066658), (295.266022553, -98.235489768))
            ThreePointArc((295.266022554, -98.235489767), (296.472930928, -100.423662292), (298.661103452, -101.630570665))
            Line((298.661103452, -101.630570666), (298.771526562, -101.142916345))
            ThreePointArc((298.771526562, -101.142916344), (296.826484318, -100.070108901), (295.753676875, -98.125066657))
        make_face()
        with BuildLine():
            ThreePointArc((304.04380033, -96.247873788), (302.836891957, -94.059701263), (300.648719432, -92.85279289))
            Line((300.648719432, -92.852792889), (300.538296322, -93.34044721))
            ThreePointArc((300.538296322, -93.340447211), (302.483338566, -94.413254654), (303.556146009, -96.358296898))
            Line((303.55614601, -96.358296898), (304.043800331, -96.247873788))
        make_face()
        with BuildLine():
            Line((300.538296322, -101.142916345), (300.648719432, -101.630570666))
            ThreePointArc((300.648719432, -101.630570665), (302.836891957, -100.423662292), (304.04380033, -98.235489767))
            Line((304.043800331, -98.235489768), (303.55614601, -98.125066658))
            ThreePointArc((303.556146009, -98.125066657), (302.483338566, -100.070108901), (300.538296322, -101.142916344))
        make_face()
    extrude(amount=BOSS_EXTRUDE10_DEPTH)

    # Sketch13 → Revolve1 (revolve)
    with BuildSketch(Plane(origin=(0, 1, 0), x_dir=(1, 0, 0), z_dir=(0, 1, 0))):
        Polygon((448.425771751, -121.360995899), (428.11367092, -116.417164681), (442.800303922, -131.104591996), (443.050303922, -130.671579294), (428.985837114, -116.90637438), (448.175771751, -121.794008601), align=None)
    revolve(axis=Axis((442.800303922, 1, 131.104591996), (0.5000000000000009, 0, -0.8660254037844383)), revolution_arc=REVOLVE1_ANGLE)

    # Sketch15 → Cut-Extrude7 (cut)
    with BuildSketch(Plane(origin=(388.870181552, 0, 224.514303999), x_dir=(0.5000000000000009, -5.733535551193207e-15, -0.8660254037844383), z_dir=(0.8660254037844382, -9.930774881669059e-15, 0.5000000000000008))):
        with Locations((114.477088338, 17.154015826)):
            Rectangle(SKETCH15_W, SKETCH15_H)
    extrude(amount=-CUT_EXTRUDE7_DEPTH, mode=Mode.SUBTRACT)


solid = part.part
